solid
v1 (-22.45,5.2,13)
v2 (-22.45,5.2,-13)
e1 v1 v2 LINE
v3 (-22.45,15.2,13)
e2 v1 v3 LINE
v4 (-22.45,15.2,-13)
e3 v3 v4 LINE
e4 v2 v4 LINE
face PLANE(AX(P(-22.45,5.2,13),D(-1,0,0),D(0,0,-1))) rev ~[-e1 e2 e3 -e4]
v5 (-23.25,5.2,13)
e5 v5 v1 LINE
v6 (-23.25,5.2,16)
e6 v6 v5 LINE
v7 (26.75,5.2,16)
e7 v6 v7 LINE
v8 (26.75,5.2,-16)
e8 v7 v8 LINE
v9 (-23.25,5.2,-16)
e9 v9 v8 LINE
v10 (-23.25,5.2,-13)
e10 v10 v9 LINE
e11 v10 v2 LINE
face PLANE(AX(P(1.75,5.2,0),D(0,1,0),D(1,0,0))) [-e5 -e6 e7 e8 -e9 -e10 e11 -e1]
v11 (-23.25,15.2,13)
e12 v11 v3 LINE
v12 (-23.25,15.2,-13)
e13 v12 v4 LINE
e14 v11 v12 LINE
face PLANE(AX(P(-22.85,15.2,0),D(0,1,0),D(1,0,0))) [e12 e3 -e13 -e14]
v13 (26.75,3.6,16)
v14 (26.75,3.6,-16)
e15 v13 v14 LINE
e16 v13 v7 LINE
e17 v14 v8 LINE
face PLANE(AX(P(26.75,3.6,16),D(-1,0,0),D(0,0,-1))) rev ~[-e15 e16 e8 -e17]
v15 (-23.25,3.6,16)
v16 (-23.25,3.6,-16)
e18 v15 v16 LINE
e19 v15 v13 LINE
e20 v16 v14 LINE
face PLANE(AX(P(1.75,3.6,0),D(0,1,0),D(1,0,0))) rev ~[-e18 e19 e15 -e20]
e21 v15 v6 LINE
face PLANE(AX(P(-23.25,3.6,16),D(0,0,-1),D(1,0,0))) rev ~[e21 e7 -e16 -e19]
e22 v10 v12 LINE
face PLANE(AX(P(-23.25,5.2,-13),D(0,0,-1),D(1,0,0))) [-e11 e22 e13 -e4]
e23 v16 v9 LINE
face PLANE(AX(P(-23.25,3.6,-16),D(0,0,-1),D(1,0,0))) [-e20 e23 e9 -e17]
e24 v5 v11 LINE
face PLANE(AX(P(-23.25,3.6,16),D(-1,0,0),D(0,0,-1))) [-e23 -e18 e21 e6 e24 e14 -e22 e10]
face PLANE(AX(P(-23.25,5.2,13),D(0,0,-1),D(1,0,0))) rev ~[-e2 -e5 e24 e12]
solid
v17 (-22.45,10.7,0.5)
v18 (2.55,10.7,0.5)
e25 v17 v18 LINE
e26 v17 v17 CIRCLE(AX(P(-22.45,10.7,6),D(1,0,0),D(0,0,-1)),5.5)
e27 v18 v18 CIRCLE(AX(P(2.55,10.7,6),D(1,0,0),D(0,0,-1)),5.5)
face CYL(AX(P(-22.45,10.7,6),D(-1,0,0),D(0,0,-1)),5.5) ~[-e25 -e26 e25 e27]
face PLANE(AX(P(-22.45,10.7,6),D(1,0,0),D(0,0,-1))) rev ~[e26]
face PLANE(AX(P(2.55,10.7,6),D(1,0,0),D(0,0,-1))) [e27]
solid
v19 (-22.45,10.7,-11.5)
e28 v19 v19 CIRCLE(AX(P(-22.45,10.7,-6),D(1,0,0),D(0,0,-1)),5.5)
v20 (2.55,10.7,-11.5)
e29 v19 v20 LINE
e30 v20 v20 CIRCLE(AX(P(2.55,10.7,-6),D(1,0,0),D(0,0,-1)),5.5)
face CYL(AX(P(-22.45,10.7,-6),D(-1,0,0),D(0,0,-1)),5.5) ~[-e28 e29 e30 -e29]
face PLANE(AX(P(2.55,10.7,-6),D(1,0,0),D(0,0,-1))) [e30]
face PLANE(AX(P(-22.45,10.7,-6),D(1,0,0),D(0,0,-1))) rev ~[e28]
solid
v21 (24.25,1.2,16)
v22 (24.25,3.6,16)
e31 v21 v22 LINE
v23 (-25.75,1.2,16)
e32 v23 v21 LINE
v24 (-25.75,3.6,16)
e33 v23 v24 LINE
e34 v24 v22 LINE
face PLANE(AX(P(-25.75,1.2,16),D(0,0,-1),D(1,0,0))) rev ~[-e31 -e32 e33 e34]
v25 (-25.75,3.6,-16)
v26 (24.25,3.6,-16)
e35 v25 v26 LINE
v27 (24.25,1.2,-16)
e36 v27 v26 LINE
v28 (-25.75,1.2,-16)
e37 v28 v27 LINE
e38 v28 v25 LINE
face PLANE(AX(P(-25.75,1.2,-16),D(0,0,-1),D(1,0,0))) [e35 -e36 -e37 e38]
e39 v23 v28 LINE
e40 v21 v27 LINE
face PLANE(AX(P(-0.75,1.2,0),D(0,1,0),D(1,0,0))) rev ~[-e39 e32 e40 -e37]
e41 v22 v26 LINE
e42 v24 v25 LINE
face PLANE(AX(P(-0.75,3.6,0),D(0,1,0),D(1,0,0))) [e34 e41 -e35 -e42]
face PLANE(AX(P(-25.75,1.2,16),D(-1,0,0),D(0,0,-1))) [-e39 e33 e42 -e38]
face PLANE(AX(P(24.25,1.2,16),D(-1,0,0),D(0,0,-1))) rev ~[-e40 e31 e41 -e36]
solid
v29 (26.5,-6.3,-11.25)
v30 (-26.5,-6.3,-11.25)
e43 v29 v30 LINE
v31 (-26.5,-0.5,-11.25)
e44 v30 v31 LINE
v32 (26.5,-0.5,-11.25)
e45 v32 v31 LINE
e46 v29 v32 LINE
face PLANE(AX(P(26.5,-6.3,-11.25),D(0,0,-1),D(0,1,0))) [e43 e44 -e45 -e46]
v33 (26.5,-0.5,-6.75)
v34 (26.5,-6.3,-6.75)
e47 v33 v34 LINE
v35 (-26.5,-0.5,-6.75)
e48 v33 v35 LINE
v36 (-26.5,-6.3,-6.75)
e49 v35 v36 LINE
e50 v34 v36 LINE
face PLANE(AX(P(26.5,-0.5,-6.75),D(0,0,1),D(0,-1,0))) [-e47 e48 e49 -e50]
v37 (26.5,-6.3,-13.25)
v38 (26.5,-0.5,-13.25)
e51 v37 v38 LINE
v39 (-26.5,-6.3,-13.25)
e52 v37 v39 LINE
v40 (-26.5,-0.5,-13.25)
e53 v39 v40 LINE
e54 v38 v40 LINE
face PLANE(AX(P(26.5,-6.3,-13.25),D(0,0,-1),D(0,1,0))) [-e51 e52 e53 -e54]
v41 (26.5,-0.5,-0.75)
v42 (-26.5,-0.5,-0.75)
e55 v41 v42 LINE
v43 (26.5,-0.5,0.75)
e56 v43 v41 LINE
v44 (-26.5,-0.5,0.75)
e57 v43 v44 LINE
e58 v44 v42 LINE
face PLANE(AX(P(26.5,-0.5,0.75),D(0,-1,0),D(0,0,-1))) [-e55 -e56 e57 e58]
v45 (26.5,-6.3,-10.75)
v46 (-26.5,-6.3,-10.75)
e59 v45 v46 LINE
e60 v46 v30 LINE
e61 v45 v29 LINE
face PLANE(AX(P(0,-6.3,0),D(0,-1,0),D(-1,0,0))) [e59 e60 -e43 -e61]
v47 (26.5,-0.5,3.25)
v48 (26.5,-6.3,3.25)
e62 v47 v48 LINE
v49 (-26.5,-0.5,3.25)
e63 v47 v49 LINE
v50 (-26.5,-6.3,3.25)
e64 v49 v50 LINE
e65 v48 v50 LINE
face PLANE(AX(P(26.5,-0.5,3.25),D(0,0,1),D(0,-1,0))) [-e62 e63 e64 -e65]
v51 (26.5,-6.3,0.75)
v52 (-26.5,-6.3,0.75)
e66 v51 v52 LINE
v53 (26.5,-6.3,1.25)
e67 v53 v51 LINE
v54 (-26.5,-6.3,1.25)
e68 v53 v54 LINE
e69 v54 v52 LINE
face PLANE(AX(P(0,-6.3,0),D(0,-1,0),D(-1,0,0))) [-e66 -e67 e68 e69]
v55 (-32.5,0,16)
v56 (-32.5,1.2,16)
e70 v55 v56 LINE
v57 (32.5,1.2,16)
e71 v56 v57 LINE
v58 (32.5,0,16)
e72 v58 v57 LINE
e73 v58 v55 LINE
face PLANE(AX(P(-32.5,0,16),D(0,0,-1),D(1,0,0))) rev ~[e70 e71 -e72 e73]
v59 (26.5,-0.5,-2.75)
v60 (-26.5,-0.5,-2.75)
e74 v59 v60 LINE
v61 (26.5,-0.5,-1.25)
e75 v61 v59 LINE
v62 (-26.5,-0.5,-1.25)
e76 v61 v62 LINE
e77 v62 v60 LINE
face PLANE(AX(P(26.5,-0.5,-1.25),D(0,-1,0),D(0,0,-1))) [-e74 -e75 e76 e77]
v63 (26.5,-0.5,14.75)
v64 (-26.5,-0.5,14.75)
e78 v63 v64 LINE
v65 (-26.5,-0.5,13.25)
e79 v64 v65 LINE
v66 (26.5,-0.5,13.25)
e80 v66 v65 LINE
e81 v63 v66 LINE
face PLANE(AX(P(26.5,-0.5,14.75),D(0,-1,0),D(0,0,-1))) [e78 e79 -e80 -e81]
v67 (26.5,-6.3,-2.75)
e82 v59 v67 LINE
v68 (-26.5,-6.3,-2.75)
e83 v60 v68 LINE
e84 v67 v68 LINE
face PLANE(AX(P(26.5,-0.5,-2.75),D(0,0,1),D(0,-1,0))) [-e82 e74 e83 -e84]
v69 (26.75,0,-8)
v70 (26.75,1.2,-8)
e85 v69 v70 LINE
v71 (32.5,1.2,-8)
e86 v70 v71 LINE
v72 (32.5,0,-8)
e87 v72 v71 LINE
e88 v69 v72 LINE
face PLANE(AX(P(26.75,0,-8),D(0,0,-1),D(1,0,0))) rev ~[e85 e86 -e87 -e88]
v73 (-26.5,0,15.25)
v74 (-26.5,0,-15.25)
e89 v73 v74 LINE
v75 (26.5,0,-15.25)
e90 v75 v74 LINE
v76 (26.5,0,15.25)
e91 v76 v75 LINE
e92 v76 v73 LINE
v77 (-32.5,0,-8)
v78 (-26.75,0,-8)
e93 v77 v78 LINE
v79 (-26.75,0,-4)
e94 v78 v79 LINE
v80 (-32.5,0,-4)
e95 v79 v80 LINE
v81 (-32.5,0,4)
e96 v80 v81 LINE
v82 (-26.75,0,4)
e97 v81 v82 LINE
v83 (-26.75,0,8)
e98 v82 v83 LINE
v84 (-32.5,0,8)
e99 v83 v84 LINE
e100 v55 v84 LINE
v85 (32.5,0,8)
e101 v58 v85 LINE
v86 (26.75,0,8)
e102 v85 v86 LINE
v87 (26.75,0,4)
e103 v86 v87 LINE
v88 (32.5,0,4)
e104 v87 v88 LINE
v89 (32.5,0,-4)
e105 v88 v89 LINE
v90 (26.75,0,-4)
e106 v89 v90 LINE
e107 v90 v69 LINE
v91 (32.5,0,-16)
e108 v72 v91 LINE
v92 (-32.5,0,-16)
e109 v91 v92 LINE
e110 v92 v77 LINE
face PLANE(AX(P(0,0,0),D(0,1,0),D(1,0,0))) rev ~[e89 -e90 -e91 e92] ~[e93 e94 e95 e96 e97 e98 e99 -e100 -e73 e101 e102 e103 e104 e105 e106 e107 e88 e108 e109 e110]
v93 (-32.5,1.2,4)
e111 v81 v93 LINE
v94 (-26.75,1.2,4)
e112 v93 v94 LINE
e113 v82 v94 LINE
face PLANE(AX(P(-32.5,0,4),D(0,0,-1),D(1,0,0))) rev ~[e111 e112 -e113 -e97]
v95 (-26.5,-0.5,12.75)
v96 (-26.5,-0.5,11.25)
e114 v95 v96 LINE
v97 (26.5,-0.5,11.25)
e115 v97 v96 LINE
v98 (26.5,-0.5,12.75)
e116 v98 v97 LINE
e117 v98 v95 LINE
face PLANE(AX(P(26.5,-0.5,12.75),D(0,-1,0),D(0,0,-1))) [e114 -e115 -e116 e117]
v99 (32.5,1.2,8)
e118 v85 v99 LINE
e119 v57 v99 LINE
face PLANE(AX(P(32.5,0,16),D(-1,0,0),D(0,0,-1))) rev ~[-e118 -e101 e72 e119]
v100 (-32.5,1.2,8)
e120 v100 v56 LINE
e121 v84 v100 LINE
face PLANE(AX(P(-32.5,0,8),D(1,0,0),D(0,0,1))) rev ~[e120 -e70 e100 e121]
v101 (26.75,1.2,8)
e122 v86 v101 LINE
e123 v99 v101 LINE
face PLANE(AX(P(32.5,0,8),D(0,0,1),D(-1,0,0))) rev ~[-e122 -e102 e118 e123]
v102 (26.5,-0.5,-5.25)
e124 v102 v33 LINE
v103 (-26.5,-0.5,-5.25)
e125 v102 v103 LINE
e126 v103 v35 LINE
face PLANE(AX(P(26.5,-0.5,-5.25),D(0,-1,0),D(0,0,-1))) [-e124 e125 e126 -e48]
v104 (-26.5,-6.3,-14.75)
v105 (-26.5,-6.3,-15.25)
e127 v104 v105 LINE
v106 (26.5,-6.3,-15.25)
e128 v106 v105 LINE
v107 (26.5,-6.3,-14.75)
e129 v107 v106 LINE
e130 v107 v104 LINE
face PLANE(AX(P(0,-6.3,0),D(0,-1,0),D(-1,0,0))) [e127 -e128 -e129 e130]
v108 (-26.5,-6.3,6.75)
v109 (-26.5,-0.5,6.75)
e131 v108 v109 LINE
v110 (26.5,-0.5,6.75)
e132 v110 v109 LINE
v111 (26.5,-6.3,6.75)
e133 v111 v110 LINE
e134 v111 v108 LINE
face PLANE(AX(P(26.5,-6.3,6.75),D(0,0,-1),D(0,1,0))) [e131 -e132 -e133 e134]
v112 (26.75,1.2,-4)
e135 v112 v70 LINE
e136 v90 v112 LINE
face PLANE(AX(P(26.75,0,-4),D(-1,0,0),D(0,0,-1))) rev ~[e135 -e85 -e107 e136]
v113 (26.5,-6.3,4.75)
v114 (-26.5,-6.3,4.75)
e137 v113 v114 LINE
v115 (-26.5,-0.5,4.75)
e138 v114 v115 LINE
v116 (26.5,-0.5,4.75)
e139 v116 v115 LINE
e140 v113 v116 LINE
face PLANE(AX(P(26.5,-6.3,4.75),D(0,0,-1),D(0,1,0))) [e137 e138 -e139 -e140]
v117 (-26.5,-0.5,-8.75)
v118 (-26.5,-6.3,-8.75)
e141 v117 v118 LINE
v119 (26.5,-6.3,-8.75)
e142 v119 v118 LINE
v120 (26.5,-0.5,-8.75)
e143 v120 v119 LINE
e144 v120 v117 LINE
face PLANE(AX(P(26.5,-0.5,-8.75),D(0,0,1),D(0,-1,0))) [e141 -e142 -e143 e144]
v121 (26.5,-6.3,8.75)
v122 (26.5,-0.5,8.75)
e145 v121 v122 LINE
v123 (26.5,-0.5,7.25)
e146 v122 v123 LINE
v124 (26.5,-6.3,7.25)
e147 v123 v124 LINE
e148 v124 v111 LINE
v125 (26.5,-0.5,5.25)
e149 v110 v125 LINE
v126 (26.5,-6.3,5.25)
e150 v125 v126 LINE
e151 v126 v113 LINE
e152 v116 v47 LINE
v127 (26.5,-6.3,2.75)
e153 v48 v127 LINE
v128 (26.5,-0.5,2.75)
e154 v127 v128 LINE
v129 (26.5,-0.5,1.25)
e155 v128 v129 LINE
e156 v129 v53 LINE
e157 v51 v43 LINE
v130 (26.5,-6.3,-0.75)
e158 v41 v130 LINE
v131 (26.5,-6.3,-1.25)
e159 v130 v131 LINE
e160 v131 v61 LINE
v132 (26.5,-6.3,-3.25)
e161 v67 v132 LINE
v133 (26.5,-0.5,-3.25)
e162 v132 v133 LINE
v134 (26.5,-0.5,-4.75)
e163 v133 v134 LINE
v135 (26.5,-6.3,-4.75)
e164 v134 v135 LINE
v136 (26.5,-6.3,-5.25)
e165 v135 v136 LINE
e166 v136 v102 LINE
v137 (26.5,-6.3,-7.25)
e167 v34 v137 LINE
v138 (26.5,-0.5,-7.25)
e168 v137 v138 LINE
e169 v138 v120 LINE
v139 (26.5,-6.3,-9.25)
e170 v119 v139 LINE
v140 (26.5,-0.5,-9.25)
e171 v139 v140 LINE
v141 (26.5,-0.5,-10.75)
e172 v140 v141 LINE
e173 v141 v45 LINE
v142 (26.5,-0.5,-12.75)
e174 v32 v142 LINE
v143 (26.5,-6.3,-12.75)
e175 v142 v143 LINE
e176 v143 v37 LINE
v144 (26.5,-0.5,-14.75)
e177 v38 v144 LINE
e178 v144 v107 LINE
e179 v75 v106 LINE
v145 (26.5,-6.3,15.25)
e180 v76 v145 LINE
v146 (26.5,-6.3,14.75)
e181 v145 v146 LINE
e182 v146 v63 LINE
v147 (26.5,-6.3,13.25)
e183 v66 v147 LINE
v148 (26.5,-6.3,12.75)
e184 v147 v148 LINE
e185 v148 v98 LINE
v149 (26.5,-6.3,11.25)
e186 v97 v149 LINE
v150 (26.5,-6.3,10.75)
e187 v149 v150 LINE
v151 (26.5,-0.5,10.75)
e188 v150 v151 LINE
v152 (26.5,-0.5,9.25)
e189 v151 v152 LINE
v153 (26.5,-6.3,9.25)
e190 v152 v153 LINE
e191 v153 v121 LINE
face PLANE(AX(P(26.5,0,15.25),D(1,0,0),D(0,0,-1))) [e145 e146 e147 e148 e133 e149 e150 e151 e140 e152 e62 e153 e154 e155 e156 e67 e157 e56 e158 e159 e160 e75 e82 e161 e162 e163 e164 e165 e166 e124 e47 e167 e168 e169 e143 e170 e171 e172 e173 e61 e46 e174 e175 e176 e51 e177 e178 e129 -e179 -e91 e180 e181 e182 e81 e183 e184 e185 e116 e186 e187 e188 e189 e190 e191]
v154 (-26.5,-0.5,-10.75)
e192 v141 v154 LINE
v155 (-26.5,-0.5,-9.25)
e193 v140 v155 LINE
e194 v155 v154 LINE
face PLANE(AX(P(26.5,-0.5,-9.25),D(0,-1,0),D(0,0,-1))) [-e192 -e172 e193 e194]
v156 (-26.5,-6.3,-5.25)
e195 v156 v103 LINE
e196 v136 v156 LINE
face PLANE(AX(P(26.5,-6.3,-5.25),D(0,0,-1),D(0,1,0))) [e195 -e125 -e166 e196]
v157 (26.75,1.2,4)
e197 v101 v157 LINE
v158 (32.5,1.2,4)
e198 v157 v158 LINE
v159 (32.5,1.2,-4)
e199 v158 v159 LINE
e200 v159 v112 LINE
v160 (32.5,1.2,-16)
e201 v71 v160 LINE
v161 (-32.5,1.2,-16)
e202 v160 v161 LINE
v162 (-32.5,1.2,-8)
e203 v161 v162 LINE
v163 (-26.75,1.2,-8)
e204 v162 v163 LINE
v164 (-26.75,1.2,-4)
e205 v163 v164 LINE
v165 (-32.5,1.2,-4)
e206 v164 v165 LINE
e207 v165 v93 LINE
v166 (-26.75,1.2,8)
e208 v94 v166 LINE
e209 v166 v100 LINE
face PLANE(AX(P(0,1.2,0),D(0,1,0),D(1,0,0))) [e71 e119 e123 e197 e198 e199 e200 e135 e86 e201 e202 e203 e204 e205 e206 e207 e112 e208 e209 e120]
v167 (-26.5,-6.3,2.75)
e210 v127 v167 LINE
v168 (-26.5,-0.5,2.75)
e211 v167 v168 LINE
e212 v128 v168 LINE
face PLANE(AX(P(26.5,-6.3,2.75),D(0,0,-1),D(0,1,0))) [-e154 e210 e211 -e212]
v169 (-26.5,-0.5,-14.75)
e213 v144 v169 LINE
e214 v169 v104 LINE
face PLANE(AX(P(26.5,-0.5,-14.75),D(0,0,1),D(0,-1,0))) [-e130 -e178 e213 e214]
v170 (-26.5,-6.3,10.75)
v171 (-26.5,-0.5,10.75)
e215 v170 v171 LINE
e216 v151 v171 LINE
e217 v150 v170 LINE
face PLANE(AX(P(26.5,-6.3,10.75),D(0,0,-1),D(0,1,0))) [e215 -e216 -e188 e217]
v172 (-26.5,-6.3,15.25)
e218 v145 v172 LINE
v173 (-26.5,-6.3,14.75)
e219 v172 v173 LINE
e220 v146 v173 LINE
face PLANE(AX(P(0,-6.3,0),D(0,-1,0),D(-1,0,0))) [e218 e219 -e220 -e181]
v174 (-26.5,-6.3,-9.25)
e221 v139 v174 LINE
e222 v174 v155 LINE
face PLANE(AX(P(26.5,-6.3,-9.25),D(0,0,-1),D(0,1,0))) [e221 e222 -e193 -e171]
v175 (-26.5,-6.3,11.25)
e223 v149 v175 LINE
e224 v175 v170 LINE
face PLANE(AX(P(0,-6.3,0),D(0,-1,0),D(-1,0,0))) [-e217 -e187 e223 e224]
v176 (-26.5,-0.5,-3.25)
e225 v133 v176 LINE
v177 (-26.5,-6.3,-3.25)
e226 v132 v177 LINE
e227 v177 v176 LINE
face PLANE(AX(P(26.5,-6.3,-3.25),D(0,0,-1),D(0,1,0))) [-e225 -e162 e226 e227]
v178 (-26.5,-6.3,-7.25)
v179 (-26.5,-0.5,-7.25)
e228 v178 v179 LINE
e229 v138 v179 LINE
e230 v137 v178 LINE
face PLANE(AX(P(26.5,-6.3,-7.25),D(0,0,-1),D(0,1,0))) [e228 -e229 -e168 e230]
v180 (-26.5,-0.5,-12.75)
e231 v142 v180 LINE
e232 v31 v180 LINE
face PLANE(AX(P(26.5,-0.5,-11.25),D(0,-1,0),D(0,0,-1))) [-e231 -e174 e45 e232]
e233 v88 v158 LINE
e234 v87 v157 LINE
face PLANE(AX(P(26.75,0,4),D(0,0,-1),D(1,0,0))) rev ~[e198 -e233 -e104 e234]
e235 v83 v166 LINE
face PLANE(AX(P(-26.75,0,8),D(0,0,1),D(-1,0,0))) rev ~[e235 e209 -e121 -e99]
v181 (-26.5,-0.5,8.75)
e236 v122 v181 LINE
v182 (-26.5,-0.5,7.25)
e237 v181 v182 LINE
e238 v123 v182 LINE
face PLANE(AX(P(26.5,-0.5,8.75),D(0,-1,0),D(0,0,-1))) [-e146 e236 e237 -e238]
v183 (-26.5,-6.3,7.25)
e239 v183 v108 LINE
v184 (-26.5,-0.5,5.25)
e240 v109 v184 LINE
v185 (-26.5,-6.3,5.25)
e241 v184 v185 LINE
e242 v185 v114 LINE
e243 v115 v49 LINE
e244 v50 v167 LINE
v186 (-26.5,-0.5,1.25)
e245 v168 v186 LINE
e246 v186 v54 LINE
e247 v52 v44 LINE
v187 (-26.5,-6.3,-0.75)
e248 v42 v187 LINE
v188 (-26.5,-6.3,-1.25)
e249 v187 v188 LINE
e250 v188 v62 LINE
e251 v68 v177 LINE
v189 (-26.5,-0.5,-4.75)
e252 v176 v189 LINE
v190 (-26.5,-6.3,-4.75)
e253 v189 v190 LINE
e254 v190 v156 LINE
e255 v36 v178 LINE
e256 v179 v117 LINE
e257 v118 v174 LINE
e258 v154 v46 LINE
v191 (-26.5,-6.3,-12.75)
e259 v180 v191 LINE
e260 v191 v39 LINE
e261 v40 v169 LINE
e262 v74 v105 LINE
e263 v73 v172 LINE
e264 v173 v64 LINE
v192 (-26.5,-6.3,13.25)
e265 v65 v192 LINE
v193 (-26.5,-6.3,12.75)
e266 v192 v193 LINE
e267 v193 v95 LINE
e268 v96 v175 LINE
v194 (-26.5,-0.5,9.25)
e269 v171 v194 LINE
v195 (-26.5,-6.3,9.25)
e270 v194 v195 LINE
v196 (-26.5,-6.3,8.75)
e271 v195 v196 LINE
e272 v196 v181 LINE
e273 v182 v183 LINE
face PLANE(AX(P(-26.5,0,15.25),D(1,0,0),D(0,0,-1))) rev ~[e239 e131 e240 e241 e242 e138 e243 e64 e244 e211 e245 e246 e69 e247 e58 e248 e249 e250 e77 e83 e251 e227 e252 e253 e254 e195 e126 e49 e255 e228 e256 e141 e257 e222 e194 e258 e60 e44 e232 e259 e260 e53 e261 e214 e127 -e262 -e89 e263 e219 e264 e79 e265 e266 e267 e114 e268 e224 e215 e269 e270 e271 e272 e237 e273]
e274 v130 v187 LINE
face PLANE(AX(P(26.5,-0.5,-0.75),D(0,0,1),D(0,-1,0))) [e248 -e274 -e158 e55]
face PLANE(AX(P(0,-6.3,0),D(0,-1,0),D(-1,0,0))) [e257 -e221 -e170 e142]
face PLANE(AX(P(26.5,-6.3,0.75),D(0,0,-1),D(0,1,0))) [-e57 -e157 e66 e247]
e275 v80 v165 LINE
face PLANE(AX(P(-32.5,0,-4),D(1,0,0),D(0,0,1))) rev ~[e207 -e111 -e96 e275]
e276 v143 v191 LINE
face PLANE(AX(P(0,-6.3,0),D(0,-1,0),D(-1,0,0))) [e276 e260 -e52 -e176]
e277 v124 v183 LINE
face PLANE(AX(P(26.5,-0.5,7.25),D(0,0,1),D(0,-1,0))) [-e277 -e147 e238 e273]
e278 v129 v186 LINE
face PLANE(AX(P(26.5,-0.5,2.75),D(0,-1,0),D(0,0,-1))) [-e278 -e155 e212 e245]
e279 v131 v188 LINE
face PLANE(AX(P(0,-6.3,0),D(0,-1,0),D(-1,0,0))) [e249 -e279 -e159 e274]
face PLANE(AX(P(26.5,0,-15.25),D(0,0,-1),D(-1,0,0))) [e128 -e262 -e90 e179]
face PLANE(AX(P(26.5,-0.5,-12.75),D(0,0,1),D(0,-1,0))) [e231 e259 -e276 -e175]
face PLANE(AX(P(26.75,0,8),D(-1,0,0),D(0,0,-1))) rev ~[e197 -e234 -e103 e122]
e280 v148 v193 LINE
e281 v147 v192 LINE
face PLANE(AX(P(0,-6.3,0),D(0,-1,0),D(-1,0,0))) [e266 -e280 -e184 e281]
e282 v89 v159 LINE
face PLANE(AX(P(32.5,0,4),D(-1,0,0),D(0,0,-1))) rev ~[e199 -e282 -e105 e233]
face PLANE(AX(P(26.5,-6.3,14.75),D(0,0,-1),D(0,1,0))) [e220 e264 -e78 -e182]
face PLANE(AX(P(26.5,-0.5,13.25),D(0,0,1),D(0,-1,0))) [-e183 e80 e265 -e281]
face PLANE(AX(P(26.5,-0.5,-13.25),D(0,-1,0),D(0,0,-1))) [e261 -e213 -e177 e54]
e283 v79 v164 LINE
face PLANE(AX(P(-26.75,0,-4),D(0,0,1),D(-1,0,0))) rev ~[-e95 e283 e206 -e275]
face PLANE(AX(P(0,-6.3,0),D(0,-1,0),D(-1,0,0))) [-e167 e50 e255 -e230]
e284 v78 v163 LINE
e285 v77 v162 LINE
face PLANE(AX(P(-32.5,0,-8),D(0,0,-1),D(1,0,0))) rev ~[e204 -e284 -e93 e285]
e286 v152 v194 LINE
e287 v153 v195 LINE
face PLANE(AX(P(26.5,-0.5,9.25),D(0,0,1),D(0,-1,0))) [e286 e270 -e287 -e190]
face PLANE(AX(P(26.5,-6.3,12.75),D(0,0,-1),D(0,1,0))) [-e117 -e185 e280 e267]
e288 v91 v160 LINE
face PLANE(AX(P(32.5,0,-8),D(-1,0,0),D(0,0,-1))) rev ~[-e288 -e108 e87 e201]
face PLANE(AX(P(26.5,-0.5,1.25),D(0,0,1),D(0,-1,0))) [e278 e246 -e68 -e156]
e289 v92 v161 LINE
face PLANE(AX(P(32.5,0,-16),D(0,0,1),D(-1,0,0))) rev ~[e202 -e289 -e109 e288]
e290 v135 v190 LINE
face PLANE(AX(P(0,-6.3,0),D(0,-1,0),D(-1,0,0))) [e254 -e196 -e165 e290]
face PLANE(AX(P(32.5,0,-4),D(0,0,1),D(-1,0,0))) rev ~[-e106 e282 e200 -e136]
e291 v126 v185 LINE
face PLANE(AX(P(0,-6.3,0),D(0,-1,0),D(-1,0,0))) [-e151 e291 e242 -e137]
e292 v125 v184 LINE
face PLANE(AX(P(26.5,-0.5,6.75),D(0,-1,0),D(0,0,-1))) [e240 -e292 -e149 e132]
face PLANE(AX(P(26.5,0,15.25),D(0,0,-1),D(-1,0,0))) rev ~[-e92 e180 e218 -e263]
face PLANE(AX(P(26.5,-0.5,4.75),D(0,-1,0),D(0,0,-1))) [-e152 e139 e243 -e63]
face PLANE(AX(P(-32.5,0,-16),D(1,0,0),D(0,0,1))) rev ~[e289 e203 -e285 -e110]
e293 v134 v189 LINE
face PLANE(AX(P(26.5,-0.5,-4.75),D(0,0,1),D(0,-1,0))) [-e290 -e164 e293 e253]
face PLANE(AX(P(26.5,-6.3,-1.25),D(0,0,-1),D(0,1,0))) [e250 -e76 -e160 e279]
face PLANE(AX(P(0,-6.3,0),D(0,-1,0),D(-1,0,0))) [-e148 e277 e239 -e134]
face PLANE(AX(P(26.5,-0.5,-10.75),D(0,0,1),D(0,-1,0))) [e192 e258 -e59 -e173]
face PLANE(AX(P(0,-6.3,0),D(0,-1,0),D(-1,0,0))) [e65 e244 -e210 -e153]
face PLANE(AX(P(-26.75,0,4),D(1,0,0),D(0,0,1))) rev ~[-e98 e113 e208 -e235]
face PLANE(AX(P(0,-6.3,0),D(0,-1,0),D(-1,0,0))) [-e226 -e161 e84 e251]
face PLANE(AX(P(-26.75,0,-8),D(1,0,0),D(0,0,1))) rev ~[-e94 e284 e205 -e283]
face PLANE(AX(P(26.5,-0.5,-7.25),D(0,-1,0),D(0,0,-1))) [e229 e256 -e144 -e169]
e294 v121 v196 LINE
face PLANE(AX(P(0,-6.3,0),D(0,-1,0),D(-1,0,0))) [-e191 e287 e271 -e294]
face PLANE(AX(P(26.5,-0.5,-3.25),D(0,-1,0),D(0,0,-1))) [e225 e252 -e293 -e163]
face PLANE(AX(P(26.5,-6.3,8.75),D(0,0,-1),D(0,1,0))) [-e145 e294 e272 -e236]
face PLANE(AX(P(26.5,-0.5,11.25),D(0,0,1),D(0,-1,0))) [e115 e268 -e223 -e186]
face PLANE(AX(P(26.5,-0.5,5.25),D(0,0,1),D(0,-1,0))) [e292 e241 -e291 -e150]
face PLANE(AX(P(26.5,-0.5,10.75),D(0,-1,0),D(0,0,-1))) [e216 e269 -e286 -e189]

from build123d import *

# Parameters (mm, degrees)
BOSS_EXTRUDE1_DEPTH   = 1.2
SKETCH2_W             = 50
SKETCH2_H             = 32
BOSS_EXTRUDE2_DEPTH   = 2.4
SKETCH3_W             = 50
SKETCH3_H             = 32
BOSS_EXTRUDE3_DEPTH   = 1.6
SKETCH4_W             = 0.8
SKETCH4_H             = 26
BOSS_EXTRUDE4_DEPTH   = 10
SKETCH5_R             = 5.5
BOSS_EXTRUDE6_DEPTH   = 25
BOSS_EXTRUDE6_2_DEPTH = 25
SKETCH6_W             = 53
SKETCH6_H             = 30.5
BOSS_EXTRUDE7_DEPTH   = 6.3
CUT_EXTRUDE7_DEPTH    = 60


with BuildPart() as part:
    # Sketch1 → Boss-Extrude1 (new body)
    with BuildSketch(Plane(origin=(0, 0, 0), x_dir=(1, 0, 0), z_dir=(0, 1, 0))):
        Polygon((-26.75, 16), (-32.5, 16), (-32.5, 8), (-26.75, 8), (-26.75, 4), (-32.5, 4), (-32.5, -4), (-26.75, -4), (-26.75, -8), (-32.5, -8), (-32.5, -16), (-26.75, -16), (26.75, -16), (32.5, -16), (32.5, -8), (26.75, -8), (26.75, -4), (32.5, -4), (32.5, 4), (26.75, 4), (26.75, 8), (32.5, 8), (32.5, 16), (26.75, 16), align=None)
    extrude(amount=BOSS_EXTRUDE1_DEPTH)

    # Sketch6 → Boss-Extrude7 (add)
    with BuildSketch(Plane(origin=(0, 0, 0), x_dir=(-1, 0, 0), z_dir=(0, -1, 0))):
        Rectangle(SKETCH6_W, SKETCH6_H)
    extrude(amount=BOSS_EXTRUDE7_DEPTH)

    # Sketch8 → Cut-Extrude7 (cut, through all)
    with BuildSketch(Plane(origin=(26.5, 0, 0), x_dir=(0, 0, -1), z_dir=(1, 0, 0))):
        Polygon((-15.25, 0), (-15.25, -6.3), (-14.75, -6.3), (-14.75, -0.5), (-13.25, -0.5), (-13.25, -6.3), (-12.75, -6.3), (-12.75, -0.5), (-11.25, -0.5), (-11.25, -6.3), (-10.75, -6.3), (-10.75, -0.5), (-9.25, -0.5), (-9.25, -6.3), (-8.75, -6.3), (-8.75, -0.5), (-7.25, -0.5), (-7.25, -6.3), (-6.75, -6.3), (-6.75, -0.5), (-5.25, -0.5), (-5.25, -6.3), (-4.75, -6.3), (-4.75, -0.5), (-3.25, -0.5), (-3.25, -6.3), (-2.75, -6.3), (-2.75, -0.5), (-1.25, -0.5), (-1.25, -6.3), (-0.75, -6.3), (-0.75, -0.5), (0.75, -0.5), (0.75, -6.3), (1.25, -6.3), (1.25, -0.5), (2.75, -0.5), (2.75, -6.3), (3.25, -6.3), (3.25, -0.5), (4.75, -0.5), (4.75, -6.3), (5.25, -6.3), (5.25, -0.5), (6.75, -0.5), (6.75, -6.3), (7.25, -6.3), (7.25, -0.5), (8.75, -0.5), (8.75, -6.3), (9.25, -6.3), (9.25, -0.5), (10.75, -0.5), (10.75, -6.3), (11.25, -6.3), (11.25, -0.5), (12.75, -0.5), (12.75, -6.3), (13.25, -6.3), (13.25, -0.5), (14.75, -0.5), (14.75, -6.3), (15.25, -6.3), (15.25, 0), (23.612450935, 0), (23.612450935, -15.947306279), (-23.612450935, -15.947306279), (-23.612450935, 0), align=None)
    extrude(amount=-CUT_EXTRUDE7_DEPTH, mode=Mode.SUBTRACT)


with BuildPart() as body_2:
    # Sketch2 → Boss-Extrude2 (new body)
    with BuildSketch(Plane(origin=(0, 1.2, 0), x_dir=(1, 0, 0), z_dir=(0, 1, 0))):
        with Locations((-0.75, 0)):
            Rectangle(SKETCH2_W, SKETCH2_H)
    extrude(amount=BOSS_EXTRUDE2_DEPTH)


with BuildPart() as body_3:
    # Sketch3 → Boss-Extrude3 (new body)
    with BuildSketch(Plane(origin=(0, 3.6, 0), x_dir=(1, 0, 0), z_dir=(0, 1, 0))):
        with Locations((1.75, 0)):
            Rectangle(SKETCH3_W, SKETCH3_H)
    extrude(amount=BOSS_EXTRUDE3_DEPTH)

    # Sketch4 → Boss-Extrude4 (add)
    with BuildSketch(Plane(origin=(0, 5.2, 0), x_dir=(1, 0, 0), z_dir=(0, 1, 0))):
        with Locations((-22.85, 0)):
            Rectangle(SKETCH4_W, SKETCH4_H)
    extrude(amount=BOSS_EXTRUDE4_DEPTH)


with BuildPart() as body_4:
    # Sketch5 → Boss-Extrude6 (new body)
    with BuildSketch(Plane(origin=(-22.45, 0, 0), x_dir=(0, 0, -1), z_dir=(1, 0, 0))):
        with Locations((-6, 10.7)):
            Circle(SKETCH5_R)
    extrude(amount=BOSS_EXTRUDE6_DEPTH)


with BuildPart() as body_5:
    # Sketch5 → Boss-Extrude6 2 (new body)
    with BuildSketch(Plane(origin=(-22.45, 0, 0), x_dir=(0, 0, -1), z_dir=(1, 0, 0))):
        with Locations((6, 10.7)):
            Circle(SKETCH5_R)
    extrude(amount=BOSS_EXTRUDE6_2_DEPTH)


solid = Compound([part.part, body_2.part, body_3.part, body_4.part, body_5.part])
